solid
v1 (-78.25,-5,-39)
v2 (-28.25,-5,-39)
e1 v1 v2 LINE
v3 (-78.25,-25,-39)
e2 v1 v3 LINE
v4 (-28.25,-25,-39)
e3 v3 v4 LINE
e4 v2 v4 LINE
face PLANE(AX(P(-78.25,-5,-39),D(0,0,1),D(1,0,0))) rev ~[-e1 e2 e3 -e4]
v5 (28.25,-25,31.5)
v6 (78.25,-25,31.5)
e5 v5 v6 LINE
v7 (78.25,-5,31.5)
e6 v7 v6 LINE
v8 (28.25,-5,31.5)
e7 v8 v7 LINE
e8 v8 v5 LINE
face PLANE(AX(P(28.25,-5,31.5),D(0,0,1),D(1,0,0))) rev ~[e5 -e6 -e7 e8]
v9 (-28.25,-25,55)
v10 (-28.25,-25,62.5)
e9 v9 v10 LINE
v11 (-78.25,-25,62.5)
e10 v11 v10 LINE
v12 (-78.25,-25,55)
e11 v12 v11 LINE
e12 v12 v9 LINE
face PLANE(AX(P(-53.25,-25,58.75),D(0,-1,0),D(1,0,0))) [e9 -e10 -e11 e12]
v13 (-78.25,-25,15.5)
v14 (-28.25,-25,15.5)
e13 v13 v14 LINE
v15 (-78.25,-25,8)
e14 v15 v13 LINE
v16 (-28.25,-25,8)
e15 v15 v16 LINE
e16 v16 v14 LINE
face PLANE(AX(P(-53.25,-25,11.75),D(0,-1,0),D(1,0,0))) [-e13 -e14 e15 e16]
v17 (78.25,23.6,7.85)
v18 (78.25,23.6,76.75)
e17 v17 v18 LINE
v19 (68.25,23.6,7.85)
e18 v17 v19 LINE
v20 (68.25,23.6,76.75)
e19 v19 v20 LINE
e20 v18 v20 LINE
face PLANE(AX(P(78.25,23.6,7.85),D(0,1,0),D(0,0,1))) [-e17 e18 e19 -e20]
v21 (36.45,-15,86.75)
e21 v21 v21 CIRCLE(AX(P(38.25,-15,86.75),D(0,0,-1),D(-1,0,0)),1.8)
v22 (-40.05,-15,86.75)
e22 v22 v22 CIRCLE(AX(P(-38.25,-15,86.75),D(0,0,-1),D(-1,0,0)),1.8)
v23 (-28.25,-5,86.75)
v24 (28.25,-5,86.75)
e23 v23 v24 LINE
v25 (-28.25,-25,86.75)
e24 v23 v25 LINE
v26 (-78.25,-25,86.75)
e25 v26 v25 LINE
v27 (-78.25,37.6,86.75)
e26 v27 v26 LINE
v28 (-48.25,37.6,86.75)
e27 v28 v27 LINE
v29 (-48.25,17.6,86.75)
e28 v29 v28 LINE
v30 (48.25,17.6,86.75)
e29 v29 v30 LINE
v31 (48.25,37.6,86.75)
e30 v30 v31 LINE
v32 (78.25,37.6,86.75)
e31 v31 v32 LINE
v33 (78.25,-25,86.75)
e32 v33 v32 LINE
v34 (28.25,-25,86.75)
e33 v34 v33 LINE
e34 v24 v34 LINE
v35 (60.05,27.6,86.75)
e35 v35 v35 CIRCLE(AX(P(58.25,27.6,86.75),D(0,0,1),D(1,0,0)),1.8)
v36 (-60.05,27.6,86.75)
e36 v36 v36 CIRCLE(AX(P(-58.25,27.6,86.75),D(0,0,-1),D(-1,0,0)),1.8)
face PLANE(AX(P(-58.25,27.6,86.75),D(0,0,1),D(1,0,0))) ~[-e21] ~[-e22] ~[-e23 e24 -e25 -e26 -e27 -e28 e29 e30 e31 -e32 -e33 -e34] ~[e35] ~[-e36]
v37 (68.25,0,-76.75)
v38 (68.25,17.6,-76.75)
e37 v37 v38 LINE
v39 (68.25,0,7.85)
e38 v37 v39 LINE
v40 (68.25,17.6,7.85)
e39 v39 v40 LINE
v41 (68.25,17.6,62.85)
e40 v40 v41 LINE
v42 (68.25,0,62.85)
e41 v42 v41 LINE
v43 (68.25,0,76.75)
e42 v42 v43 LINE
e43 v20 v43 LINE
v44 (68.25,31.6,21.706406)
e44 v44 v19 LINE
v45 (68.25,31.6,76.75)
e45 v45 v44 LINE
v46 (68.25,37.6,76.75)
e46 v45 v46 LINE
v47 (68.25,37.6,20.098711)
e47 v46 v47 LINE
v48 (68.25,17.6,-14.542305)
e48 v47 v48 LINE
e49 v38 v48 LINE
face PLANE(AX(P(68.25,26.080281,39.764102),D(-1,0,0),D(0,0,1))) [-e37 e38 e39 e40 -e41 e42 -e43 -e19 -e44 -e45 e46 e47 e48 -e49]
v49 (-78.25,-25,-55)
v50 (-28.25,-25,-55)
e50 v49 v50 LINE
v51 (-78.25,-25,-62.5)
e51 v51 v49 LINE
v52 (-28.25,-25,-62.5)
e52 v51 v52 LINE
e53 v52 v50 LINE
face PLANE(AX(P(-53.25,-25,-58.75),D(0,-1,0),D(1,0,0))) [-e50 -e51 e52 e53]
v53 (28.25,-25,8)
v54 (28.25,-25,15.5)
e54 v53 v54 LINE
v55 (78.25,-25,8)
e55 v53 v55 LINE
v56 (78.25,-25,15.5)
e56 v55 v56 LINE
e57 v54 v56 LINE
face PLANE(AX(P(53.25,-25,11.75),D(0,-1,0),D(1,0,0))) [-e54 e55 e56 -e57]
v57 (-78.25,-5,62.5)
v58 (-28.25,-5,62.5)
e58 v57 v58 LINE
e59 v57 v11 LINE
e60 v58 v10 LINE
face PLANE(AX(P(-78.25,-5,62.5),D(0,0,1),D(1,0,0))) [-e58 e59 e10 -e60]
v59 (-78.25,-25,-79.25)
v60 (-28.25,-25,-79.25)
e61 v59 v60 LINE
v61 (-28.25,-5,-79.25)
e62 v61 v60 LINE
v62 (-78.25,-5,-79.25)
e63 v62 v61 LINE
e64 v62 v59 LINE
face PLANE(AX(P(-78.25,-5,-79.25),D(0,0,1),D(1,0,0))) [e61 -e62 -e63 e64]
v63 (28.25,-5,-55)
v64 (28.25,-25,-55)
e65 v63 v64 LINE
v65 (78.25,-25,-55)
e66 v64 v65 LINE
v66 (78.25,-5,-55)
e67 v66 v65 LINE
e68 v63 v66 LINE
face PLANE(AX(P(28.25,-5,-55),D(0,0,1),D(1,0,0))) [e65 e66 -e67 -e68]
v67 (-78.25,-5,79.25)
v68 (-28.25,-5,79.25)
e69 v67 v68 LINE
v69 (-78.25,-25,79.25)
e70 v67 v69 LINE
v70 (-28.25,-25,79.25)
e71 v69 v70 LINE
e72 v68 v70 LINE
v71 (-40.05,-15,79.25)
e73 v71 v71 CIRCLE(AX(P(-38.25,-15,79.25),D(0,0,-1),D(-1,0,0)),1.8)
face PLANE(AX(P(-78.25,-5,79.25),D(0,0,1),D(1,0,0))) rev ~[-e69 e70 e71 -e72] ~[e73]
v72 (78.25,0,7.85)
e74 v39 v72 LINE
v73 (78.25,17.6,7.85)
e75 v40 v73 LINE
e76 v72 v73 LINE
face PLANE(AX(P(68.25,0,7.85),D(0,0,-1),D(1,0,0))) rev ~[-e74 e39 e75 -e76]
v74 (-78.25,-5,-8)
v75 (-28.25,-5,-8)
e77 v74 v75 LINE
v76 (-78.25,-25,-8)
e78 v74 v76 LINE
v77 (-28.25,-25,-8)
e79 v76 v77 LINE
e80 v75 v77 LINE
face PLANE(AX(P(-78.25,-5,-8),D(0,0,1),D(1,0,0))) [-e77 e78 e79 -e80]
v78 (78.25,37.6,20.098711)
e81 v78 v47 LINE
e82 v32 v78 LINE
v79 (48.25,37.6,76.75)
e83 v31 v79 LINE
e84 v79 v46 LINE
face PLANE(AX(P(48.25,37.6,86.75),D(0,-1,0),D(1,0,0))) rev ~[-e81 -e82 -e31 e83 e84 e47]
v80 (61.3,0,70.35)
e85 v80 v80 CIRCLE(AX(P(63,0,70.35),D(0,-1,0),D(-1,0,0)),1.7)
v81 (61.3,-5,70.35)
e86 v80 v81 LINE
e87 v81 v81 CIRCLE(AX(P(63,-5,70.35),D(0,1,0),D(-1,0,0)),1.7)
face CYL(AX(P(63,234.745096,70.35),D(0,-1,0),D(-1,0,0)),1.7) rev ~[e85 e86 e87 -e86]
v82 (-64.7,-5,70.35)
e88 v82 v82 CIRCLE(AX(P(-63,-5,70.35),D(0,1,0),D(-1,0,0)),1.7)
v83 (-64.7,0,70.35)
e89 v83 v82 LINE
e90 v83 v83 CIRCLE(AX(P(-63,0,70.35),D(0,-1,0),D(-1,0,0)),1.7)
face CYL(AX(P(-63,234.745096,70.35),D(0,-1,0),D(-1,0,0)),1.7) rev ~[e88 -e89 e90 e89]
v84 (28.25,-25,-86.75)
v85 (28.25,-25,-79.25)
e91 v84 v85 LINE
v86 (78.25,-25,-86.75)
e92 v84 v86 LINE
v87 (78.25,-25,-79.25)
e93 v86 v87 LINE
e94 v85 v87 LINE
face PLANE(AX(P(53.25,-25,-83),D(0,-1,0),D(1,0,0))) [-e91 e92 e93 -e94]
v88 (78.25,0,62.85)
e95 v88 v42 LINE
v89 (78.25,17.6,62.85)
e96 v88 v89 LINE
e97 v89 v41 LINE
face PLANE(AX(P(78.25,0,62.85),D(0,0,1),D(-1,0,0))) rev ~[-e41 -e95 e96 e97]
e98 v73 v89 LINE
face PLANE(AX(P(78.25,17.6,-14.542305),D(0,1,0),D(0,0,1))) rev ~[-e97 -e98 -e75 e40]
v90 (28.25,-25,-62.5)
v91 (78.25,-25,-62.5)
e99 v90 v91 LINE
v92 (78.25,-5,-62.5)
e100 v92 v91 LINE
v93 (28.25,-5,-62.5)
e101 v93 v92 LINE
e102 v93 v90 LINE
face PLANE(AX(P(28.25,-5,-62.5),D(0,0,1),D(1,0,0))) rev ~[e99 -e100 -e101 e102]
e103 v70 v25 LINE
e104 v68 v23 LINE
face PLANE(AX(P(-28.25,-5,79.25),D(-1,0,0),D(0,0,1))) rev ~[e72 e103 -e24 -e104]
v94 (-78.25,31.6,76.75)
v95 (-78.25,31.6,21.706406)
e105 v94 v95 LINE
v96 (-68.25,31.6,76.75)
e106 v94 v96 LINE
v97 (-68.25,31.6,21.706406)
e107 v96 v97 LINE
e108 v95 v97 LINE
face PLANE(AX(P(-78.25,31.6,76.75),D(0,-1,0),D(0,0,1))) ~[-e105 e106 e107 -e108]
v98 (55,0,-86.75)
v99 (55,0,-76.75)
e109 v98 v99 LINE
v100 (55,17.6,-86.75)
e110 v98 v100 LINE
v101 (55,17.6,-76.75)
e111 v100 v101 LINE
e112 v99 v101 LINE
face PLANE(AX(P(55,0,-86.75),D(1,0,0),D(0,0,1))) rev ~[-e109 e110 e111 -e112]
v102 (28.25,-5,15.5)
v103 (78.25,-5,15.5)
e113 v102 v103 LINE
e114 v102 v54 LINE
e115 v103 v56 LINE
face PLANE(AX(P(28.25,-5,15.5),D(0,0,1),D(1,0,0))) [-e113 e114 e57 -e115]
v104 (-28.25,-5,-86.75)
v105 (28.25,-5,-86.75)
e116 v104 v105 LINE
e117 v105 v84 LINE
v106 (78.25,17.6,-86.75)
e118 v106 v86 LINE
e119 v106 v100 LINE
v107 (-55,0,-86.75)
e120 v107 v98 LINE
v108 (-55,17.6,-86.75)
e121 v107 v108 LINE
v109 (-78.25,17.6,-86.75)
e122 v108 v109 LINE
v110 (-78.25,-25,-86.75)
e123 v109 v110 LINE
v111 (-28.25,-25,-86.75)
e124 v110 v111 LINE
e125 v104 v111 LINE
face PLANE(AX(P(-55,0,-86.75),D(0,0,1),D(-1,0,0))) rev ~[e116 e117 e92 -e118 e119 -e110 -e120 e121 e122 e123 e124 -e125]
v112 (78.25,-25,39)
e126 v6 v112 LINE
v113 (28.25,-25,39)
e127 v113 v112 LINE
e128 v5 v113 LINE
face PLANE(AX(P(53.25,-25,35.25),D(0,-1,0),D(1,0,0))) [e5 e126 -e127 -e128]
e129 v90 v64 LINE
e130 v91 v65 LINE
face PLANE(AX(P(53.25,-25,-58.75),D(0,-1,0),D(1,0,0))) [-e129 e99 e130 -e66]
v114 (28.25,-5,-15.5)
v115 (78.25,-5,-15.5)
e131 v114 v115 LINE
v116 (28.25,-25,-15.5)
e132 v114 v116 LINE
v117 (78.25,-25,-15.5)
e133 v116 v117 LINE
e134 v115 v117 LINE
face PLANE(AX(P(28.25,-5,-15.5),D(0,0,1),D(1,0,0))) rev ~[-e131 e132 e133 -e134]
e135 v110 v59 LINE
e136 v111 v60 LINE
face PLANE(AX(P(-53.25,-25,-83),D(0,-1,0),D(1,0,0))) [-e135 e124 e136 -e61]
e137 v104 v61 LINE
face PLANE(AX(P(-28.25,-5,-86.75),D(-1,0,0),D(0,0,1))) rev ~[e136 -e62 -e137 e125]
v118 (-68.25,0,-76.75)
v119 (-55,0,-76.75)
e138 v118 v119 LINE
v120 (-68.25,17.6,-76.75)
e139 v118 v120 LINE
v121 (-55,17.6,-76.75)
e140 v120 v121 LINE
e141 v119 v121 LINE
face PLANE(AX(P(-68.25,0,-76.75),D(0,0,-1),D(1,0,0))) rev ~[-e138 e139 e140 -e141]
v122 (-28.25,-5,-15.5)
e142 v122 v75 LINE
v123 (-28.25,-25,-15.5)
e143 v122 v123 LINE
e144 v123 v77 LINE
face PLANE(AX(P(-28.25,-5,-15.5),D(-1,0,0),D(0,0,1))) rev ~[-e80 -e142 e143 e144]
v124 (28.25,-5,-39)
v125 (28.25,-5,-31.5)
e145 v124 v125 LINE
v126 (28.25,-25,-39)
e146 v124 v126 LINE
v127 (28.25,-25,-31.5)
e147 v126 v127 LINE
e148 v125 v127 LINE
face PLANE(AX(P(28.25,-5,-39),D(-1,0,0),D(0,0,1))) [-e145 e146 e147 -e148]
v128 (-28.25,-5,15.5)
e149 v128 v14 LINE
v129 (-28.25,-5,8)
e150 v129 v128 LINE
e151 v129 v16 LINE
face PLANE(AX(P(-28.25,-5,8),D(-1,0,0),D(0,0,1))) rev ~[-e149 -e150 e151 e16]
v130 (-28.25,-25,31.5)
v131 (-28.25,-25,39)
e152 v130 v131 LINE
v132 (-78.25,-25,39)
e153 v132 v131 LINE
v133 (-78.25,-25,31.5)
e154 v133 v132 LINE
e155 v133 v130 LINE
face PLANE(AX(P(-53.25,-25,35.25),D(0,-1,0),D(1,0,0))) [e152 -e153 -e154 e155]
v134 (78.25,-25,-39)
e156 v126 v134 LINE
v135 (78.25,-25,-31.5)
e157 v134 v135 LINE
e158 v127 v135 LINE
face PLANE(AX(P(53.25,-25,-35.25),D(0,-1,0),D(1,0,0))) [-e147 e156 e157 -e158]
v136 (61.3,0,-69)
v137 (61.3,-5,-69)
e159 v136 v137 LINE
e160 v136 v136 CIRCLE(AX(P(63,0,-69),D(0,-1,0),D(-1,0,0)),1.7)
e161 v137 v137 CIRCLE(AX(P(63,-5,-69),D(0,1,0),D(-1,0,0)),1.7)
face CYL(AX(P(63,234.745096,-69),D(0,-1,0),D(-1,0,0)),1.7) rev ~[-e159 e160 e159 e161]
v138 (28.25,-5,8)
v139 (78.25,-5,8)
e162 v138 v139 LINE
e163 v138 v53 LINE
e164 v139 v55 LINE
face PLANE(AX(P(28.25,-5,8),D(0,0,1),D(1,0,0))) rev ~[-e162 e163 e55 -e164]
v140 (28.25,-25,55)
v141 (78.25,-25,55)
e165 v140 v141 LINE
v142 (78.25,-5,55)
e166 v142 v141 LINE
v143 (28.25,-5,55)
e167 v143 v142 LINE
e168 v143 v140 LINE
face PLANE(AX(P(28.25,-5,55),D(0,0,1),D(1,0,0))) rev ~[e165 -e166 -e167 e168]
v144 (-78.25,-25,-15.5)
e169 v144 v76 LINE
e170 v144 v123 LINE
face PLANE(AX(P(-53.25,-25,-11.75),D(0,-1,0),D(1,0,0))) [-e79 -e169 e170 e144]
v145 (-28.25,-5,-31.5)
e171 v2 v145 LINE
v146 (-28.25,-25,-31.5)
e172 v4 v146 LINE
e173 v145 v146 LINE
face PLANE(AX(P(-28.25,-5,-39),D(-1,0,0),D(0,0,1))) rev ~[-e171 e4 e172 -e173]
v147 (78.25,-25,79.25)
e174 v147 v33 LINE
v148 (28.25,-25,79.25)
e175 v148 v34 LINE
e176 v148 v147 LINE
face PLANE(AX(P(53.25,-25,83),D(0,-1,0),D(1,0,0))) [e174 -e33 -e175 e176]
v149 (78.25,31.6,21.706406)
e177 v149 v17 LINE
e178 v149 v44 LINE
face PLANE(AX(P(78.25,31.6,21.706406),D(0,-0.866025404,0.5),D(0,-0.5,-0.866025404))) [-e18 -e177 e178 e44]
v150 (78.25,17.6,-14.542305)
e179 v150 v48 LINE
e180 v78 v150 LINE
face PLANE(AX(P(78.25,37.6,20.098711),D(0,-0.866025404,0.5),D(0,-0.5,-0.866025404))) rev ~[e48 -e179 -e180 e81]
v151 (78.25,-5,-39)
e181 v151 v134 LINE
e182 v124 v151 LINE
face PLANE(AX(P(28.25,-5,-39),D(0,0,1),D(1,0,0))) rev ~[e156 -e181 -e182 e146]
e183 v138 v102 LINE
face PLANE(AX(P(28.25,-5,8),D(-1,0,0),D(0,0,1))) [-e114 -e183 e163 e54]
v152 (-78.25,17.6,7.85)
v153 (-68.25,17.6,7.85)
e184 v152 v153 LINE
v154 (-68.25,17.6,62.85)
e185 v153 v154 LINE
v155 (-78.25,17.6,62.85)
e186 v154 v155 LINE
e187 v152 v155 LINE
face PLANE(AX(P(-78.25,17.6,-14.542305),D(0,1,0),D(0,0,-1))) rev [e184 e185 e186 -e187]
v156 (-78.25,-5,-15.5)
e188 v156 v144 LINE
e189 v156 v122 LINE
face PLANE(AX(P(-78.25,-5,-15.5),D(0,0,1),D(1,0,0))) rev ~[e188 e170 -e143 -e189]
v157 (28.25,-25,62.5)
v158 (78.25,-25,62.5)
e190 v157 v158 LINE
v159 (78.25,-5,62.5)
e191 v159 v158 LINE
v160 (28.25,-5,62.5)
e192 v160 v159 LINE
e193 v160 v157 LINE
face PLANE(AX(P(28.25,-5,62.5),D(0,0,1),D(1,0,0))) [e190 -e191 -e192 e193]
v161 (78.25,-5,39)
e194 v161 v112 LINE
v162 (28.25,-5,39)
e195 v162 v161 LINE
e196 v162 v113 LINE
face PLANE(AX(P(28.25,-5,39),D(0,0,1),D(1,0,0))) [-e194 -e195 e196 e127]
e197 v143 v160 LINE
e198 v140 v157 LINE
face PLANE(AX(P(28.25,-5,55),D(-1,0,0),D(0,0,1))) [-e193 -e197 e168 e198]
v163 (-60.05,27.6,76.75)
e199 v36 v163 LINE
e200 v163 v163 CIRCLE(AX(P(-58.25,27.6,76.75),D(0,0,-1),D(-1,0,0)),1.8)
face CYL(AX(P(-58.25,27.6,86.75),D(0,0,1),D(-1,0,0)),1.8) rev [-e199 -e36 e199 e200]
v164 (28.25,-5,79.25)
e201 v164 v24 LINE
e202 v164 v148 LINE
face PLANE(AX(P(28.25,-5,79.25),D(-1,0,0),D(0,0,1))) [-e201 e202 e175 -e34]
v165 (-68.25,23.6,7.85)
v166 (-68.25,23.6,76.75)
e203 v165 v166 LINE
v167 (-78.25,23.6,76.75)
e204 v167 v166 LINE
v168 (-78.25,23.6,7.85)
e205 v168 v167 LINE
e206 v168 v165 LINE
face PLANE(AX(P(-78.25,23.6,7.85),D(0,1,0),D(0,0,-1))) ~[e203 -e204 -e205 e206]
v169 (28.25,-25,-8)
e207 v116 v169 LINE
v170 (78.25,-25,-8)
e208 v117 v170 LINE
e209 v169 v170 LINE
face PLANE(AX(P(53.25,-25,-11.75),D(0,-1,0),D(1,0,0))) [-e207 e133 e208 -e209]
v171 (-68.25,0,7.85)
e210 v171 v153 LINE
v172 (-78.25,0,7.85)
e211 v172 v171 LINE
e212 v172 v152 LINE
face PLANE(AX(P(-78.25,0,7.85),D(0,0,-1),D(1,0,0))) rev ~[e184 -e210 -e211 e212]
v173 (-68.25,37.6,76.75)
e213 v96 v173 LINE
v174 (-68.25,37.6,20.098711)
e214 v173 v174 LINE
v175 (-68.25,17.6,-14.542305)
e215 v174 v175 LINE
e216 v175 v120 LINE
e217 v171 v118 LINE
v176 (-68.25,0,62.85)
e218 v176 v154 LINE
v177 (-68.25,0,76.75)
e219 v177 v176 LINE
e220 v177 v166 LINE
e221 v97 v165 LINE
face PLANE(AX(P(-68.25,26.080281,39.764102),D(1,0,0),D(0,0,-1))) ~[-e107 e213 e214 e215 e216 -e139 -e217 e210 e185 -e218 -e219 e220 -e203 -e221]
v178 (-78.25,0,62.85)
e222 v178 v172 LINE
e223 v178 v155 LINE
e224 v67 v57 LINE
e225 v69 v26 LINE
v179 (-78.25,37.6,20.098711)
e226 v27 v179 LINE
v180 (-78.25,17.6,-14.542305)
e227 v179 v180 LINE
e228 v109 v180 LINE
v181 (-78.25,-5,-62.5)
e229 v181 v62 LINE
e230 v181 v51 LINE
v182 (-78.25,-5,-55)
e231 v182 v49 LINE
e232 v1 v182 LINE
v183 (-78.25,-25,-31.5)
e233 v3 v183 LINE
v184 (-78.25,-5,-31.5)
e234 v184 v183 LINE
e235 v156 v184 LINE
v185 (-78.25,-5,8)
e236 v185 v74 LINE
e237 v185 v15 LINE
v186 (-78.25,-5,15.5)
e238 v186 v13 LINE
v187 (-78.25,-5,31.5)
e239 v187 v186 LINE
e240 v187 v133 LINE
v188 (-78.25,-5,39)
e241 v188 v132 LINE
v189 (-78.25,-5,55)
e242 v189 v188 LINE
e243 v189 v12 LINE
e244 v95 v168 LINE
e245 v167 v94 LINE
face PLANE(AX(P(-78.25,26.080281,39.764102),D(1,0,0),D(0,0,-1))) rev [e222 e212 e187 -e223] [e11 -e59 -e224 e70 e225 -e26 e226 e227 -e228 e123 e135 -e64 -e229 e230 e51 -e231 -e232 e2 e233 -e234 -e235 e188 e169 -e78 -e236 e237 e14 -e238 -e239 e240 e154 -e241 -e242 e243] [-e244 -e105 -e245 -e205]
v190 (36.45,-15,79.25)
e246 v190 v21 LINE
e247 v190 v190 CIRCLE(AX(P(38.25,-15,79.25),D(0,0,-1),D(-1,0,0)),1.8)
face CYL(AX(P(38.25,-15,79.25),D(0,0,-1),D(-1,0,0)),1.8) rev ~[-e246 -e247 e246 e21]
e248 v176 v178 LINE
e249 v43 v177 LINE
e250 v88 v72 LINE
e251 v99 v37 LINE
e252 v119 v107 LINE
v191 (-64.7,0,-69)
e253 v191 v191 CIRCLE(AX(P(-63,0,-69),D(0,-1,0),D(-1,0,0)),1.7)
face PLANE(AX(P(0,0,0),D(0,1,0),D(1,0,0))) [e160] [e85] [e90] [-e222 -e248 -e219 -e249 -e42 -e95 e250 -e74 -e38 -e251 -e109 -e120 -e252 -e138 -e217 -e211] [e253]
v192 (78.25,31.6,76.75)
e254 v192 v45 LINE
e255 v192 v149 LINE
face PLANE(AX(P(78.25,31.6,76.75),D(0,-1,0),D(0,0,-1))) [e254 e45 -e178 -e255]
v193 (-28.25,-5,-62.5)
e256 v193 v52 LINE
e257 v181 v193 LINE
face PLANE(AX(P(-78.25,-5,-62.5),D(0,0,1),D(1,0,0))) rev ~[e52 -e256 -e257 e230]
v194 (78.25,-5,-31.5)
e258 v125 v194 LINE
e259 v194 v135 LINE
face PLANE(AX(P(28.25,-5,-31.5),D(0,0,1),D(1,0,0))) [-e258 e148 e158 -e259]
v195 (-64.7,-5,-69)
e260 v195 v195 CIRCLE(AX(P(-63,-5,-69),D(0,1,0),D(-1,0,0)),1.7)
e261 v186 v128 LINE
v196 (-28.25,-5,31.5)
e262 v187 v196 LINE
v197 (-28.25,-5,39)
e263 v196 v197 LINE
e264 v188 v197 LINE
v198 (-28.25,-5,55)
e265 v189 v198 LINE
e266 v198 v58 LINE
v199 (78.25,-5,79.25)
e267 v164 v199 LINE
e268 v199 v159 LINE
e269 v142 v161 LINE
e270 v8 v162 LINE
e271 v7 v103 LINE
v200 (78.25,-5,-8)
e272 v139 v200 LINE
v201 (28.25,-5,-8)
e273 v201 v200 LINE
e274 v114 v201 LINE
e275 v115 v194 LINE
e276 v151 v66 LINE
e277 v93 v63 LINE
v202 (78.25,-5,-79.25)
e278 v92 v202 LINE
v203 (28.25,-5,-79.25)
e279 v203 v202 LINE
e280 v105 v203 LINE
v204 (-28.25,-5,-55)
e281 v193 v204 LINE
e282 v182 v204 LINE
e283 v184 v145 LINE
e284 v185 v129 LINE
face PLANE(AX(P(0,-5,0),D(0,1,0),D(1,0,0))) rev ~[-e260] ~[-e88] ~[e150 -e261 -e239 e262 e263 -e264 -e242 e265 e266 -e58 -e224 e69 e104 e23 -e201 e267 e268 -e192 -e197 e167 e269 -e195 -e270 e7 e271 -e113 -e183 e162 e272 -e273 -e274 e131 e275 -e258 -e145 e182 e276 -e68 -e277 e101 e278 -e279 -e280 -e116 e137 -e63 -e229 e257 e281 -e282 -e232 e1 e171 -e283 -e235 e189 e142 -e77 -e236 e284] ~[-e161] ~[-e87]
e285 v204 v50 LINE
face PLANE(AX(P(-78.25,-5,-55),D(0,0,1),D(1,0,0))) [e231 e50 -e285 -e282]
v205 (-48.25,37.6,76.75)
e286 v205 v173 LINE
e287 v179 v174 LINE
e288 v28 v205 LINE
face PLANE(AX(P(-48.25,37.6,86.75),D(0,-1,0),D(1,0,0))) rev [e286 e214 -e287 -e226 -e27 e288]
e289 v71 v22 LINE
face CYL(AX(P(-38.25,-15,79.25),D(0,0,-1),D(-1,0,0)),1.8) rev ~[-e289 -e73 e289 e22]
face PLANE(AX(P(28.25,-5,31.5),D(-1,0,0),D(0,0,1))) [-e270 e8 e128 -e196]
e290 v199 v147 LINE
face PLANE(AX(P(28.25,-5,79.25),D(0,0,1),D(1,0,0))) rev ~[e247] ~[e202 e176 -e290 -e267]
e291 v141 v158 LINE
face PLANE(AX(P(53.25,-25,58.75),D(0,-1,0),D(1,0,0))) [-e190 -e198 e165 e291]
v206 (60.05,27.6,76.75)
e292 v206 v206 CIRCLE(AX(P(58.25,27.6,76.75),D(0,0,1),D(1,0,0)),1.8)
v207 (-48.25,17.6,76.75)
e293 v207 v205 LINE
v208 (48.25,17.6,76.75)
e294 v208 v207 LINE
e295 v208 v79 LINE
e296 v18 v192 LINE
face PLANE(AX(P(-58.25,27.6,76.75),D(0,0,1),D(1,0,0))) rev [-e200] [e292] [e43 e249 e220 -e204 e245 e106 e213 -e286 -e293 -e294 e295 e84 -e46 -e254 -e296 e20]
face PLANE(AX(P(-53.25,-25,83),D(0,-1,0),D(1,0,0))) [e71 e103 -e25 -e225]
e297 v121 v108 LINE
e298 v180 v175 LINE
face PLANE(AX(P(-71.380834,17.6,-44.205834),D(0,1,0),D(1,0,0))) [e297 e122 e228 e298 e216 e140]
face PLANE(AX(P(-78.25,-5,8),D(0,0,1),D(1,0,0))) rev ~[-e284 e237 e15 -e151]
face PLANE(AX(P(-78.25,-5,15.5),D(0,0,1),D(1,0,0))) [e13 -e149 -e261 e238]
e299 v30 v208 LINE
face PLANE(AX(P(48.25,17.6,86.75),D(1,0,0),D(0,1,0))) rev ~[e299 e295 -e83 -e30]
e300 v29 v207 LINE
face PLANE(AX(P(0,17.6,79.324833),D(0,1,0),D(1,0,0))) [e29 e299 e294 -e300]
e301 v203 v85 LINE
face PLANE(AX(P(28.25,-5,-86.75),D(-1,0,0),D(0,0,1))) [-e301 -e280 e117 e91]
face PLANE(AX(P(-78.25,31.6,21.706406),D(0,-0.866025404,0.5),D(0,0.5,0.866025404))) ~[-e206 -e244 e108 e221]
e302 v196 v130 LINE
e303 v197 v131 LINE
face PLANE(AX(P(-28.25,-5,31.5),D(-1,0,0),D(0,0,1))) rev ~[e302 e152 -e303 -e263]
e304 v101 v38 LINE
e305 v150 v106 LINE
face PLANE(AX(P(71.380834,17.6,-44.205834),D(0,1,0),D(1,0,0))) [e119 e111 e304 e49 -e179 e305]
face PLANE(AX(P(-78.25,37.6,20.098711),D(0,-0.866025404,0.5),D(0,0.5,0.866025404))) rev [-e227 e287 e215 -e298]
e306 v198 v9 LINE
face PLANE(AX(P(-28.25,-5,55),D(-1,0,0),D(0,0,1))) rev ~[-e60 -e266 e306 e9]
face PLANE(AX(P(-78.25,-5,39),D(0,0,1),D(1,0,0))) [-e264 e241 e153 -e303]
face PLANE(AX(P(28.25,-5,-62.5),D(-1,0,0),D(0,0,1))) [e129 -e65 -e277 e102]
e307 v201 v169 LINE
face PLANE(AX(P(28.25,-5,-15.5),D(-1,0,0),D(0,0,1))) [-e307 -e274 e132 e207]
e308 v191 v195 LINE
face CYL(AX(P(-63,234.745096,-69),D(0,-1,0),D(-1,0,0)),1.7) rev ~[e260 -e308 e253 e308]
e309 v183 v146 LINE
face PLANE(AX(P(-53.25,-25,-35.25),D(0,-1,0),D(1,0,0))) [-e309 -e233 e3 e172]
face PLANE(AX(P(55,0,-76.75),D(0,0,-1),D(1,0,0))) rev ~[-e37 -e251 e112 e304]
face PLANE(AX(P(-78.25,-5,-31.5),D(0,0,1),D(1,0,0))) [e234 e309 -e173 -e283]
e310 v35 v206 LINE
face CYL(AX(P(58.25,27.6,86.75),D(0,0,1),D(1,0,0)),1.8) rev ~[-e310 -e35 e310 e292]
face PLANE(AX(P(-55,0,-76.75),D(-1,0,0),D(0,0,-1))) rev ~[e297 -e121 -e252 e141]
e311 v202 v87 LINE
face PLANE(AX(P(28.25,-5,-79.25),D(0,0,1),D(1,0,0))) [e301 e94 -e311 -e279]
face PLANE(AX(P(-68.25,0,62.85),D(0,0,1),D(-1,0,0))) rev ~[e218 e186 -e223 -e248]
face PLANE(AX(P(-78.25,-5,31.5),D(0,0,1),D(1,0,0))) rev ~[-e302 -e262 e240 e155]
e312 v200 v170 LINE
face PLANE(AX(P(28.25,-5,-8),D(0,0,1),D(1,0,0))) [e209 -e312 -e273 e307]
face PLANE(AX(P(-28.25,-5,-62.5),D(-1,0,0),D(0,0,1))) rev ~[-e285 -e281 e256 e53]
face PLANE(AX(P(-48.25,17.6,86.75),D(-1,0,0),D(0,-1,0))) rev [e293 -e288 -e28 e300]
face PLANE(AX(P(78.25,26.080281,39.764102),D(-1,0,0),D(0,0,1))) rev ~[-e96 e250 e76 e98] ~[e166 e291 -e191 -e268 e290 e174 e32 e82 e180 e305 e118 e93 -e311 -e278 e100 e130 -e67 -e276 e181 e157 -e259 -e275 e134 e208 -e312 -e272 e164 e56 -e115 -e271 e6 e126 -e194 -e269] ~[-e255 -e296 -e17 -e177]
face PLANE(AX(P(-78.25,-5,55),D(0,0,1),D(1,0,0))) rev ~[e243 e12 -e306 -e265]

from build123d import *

# Parameters (mm, degrees)
SKETCH1_W            = 156.5
SKETCH1_H            = 173.5
BOSS_EXTRUDE1_DEPTH  = 5
BOSS_EXTRUDE2_DEPTH  = 17.6
M3_CLEARANCE_HOLE1_D = 3.4
SKETCH6_W            = 50
SKETCH6_H            = 7.5
BOSS_EXTRUDE3_DEPTH  = 20
BOSS_EXTRUDE5_DEPTH  = 10
SKETCH8_W            = 20
SKETCH8_H            = 20
SKETCH8_R            = 1.8
BOSS_EXTRUDE6_DEPTH  = 10
SKETCH9_R            = 1.8
CUT_EXTRUDE1_DEPTH   = 8.5


with BuildPart() as part:
    # Sketch1 → Boss-Extrude1 (new body)
    with BuildSketch(Plane(origin=(0, 0, 0), x_dir=(1, 0, 0), z_dir=(0, 1, 0))):
        Rectangle(SKETCH1_W, SKETCH1_H)
    extrude(amount=-BOSS_EXTRUDE1_DEPTH)

    # Sketch1<2> → Boss-Extrude2 (add)
    with BuildSketch(Plane(origin=(0, 0, 0), x_dir=(1, 0, 0), z_dir=(0, 1, 0))):
        Polygon((-78.25, -7.85), (-68.25, -7.85), (-68.25, 76.75), (-55, 76.75), (-55, 86.75), (-78.25, 86.75), align=None)
        Polygon((68.25, 76.75), (68.25, -7.85), (78.25, -7.85), (78.25, 86.75), (55, 86.75), (55, 76.75), align=None)
        Polygon((68.25, -76.75), (-68.25, -76.75), (-68.25, -62.85), (-78.25, -62.85), (-78.25, -86.75), (78.25, -86.75), (78.25, -62.85), (68.25, -62.85), align=None)
    extrude(amount=BOSS_EXTRUDE2_DEPTH)

    # M3 Clearance Hole1 (through all)
    with Locations(Plane(origin=(0, 0, 0), x_dir=(1, 0, 0), z_dir=(0, 1, 0))):
        with Locations((-63, 69), (-63, -70.35), (63, -70.35), (63, 69)):
            Hole(M3_CLEARANCE_HOLE1_D / 2)

    # Sketch6 → Boss-Extrude3 (add)
    with BuildSketch(Plane.XZ.offset(5)):
        with Locations((-53.25, 83)):
            Rectangle(SKETCH6_W, SKETCH6_H)
        with Locations((-53.25, 58.75)):
            Rectangle(SKETCH6_W, SKETCH6_H)
        with Locations((-53.25, 35.25)):
            Rectangle(SKETCH6_W, SKETCH6_H)
        with Locations((-53.25, 11.75)):
            Rectangle(SKETCH6_W, SKETCH6_H)
        with Locations((53.25, 11.75)):
            Rectangle(SKETCH6_W, SKETCH6_H)
        with Locations((53.25, 35.25)):
            Rectangle(SKETCH6_W, SKETCH6_H)
        with Locations((53.25, 58.75)):
            Rectangle(SKETCH6_W, SKETCH6_H)
        with Locations((53.25, 83)):
            Rectangle(SKETCH6_W, SKETCH6_H)
        with Locations((53.25, -83)):
            Rectangle(SKETCH6_W, SKETCH6_H)
        with Locations((53.25, -58.75)):
            Rectangle(SKETCH6_W, SKETCH6_H)
        with Locations((53.25, -35.25)):
            Rectangle(SKETCH6_W, SKETCH6_H)
        with Locations((53.25, -11.75)):
            Rectangle(SKETCH6_W, SKETCH6_H)
        with Locations((-53.25, -11.75)):
            Rectangle(SKETCH6_W, SKETCH6_H)
        with Locations((-53.25, -35.25)):
            Rectangle(SKETCH6_W, SKETCH6_H)
        with Locations((-53.25, -58.75)):
            Rectangle(SKETCH6_W, SKETCH6_H)
        with Locations((-53.25, -83)):
            Rectangle(SKETCH6_W, SKETCH6_H)
    extrude(amount=BOSS_EXTRUDE3_DEPTH)

    # Sketch7 → Boss-Extrude5 (add)
    with BuildSketch(Plane(origin=(78.25, 0, 0), x_dir=(0, 0, -1), z_dir=(1, 0, 0))):
        Polygon((-86.75, 17.6), (-86.75, 37.6), (-20.098711306, 37.6), (14.542304845, 17.6), align=None)
        Polygon((-76.75, 31.6), (-21.706406461, 31.6), (-7.85, 23.6), (-76.75, 23.6), align=None, mode=Mode.SUBTRACT)
    extrude(amount=-BOSS_EXTRUDE5_DEPTH)

    # Sketch8 → Boss-Extrude6 (add)
    with BuildSketch(Plane.XY.offset(86.75)):
        with Locations((58.25, 27.6)):
            Rectangle(SKETCH8_W, SKETCH8_H)
        with Locations((58.25, 27.6)):
            Circle(SKETCH8_R, mode=Mode.SUBTRACT)
    extrude(amount=-BOSS_EXTRUDE6_DEPTH)

    # Mirror2: part across plane


with BuildPart() as part_1:
    add(part.part)
    add(part.part.mirror(Plane(origin=(0, 0, 0), x_dir=(0, 0, 1), z_dir=(1, 0, 0))))

    # Sketch9 → Cut-Extrude1 (cut, through all)
    with BuildSketch(Plane(origin=(0, 0, 79.25), x_dir=(-1, 0, 0), z_dir=(0, 0, -1))):
        with Locations((-38.25, -15)):
            Circle(SKETCH9_R)
        with Locations((38.25, -15)):
            Circle(SKETCH9_R)
    extrude(amount=-CUT_EXTRUDE1_DEPTH, mode=Mode.SUBTRACT)


solid = part_1.part
